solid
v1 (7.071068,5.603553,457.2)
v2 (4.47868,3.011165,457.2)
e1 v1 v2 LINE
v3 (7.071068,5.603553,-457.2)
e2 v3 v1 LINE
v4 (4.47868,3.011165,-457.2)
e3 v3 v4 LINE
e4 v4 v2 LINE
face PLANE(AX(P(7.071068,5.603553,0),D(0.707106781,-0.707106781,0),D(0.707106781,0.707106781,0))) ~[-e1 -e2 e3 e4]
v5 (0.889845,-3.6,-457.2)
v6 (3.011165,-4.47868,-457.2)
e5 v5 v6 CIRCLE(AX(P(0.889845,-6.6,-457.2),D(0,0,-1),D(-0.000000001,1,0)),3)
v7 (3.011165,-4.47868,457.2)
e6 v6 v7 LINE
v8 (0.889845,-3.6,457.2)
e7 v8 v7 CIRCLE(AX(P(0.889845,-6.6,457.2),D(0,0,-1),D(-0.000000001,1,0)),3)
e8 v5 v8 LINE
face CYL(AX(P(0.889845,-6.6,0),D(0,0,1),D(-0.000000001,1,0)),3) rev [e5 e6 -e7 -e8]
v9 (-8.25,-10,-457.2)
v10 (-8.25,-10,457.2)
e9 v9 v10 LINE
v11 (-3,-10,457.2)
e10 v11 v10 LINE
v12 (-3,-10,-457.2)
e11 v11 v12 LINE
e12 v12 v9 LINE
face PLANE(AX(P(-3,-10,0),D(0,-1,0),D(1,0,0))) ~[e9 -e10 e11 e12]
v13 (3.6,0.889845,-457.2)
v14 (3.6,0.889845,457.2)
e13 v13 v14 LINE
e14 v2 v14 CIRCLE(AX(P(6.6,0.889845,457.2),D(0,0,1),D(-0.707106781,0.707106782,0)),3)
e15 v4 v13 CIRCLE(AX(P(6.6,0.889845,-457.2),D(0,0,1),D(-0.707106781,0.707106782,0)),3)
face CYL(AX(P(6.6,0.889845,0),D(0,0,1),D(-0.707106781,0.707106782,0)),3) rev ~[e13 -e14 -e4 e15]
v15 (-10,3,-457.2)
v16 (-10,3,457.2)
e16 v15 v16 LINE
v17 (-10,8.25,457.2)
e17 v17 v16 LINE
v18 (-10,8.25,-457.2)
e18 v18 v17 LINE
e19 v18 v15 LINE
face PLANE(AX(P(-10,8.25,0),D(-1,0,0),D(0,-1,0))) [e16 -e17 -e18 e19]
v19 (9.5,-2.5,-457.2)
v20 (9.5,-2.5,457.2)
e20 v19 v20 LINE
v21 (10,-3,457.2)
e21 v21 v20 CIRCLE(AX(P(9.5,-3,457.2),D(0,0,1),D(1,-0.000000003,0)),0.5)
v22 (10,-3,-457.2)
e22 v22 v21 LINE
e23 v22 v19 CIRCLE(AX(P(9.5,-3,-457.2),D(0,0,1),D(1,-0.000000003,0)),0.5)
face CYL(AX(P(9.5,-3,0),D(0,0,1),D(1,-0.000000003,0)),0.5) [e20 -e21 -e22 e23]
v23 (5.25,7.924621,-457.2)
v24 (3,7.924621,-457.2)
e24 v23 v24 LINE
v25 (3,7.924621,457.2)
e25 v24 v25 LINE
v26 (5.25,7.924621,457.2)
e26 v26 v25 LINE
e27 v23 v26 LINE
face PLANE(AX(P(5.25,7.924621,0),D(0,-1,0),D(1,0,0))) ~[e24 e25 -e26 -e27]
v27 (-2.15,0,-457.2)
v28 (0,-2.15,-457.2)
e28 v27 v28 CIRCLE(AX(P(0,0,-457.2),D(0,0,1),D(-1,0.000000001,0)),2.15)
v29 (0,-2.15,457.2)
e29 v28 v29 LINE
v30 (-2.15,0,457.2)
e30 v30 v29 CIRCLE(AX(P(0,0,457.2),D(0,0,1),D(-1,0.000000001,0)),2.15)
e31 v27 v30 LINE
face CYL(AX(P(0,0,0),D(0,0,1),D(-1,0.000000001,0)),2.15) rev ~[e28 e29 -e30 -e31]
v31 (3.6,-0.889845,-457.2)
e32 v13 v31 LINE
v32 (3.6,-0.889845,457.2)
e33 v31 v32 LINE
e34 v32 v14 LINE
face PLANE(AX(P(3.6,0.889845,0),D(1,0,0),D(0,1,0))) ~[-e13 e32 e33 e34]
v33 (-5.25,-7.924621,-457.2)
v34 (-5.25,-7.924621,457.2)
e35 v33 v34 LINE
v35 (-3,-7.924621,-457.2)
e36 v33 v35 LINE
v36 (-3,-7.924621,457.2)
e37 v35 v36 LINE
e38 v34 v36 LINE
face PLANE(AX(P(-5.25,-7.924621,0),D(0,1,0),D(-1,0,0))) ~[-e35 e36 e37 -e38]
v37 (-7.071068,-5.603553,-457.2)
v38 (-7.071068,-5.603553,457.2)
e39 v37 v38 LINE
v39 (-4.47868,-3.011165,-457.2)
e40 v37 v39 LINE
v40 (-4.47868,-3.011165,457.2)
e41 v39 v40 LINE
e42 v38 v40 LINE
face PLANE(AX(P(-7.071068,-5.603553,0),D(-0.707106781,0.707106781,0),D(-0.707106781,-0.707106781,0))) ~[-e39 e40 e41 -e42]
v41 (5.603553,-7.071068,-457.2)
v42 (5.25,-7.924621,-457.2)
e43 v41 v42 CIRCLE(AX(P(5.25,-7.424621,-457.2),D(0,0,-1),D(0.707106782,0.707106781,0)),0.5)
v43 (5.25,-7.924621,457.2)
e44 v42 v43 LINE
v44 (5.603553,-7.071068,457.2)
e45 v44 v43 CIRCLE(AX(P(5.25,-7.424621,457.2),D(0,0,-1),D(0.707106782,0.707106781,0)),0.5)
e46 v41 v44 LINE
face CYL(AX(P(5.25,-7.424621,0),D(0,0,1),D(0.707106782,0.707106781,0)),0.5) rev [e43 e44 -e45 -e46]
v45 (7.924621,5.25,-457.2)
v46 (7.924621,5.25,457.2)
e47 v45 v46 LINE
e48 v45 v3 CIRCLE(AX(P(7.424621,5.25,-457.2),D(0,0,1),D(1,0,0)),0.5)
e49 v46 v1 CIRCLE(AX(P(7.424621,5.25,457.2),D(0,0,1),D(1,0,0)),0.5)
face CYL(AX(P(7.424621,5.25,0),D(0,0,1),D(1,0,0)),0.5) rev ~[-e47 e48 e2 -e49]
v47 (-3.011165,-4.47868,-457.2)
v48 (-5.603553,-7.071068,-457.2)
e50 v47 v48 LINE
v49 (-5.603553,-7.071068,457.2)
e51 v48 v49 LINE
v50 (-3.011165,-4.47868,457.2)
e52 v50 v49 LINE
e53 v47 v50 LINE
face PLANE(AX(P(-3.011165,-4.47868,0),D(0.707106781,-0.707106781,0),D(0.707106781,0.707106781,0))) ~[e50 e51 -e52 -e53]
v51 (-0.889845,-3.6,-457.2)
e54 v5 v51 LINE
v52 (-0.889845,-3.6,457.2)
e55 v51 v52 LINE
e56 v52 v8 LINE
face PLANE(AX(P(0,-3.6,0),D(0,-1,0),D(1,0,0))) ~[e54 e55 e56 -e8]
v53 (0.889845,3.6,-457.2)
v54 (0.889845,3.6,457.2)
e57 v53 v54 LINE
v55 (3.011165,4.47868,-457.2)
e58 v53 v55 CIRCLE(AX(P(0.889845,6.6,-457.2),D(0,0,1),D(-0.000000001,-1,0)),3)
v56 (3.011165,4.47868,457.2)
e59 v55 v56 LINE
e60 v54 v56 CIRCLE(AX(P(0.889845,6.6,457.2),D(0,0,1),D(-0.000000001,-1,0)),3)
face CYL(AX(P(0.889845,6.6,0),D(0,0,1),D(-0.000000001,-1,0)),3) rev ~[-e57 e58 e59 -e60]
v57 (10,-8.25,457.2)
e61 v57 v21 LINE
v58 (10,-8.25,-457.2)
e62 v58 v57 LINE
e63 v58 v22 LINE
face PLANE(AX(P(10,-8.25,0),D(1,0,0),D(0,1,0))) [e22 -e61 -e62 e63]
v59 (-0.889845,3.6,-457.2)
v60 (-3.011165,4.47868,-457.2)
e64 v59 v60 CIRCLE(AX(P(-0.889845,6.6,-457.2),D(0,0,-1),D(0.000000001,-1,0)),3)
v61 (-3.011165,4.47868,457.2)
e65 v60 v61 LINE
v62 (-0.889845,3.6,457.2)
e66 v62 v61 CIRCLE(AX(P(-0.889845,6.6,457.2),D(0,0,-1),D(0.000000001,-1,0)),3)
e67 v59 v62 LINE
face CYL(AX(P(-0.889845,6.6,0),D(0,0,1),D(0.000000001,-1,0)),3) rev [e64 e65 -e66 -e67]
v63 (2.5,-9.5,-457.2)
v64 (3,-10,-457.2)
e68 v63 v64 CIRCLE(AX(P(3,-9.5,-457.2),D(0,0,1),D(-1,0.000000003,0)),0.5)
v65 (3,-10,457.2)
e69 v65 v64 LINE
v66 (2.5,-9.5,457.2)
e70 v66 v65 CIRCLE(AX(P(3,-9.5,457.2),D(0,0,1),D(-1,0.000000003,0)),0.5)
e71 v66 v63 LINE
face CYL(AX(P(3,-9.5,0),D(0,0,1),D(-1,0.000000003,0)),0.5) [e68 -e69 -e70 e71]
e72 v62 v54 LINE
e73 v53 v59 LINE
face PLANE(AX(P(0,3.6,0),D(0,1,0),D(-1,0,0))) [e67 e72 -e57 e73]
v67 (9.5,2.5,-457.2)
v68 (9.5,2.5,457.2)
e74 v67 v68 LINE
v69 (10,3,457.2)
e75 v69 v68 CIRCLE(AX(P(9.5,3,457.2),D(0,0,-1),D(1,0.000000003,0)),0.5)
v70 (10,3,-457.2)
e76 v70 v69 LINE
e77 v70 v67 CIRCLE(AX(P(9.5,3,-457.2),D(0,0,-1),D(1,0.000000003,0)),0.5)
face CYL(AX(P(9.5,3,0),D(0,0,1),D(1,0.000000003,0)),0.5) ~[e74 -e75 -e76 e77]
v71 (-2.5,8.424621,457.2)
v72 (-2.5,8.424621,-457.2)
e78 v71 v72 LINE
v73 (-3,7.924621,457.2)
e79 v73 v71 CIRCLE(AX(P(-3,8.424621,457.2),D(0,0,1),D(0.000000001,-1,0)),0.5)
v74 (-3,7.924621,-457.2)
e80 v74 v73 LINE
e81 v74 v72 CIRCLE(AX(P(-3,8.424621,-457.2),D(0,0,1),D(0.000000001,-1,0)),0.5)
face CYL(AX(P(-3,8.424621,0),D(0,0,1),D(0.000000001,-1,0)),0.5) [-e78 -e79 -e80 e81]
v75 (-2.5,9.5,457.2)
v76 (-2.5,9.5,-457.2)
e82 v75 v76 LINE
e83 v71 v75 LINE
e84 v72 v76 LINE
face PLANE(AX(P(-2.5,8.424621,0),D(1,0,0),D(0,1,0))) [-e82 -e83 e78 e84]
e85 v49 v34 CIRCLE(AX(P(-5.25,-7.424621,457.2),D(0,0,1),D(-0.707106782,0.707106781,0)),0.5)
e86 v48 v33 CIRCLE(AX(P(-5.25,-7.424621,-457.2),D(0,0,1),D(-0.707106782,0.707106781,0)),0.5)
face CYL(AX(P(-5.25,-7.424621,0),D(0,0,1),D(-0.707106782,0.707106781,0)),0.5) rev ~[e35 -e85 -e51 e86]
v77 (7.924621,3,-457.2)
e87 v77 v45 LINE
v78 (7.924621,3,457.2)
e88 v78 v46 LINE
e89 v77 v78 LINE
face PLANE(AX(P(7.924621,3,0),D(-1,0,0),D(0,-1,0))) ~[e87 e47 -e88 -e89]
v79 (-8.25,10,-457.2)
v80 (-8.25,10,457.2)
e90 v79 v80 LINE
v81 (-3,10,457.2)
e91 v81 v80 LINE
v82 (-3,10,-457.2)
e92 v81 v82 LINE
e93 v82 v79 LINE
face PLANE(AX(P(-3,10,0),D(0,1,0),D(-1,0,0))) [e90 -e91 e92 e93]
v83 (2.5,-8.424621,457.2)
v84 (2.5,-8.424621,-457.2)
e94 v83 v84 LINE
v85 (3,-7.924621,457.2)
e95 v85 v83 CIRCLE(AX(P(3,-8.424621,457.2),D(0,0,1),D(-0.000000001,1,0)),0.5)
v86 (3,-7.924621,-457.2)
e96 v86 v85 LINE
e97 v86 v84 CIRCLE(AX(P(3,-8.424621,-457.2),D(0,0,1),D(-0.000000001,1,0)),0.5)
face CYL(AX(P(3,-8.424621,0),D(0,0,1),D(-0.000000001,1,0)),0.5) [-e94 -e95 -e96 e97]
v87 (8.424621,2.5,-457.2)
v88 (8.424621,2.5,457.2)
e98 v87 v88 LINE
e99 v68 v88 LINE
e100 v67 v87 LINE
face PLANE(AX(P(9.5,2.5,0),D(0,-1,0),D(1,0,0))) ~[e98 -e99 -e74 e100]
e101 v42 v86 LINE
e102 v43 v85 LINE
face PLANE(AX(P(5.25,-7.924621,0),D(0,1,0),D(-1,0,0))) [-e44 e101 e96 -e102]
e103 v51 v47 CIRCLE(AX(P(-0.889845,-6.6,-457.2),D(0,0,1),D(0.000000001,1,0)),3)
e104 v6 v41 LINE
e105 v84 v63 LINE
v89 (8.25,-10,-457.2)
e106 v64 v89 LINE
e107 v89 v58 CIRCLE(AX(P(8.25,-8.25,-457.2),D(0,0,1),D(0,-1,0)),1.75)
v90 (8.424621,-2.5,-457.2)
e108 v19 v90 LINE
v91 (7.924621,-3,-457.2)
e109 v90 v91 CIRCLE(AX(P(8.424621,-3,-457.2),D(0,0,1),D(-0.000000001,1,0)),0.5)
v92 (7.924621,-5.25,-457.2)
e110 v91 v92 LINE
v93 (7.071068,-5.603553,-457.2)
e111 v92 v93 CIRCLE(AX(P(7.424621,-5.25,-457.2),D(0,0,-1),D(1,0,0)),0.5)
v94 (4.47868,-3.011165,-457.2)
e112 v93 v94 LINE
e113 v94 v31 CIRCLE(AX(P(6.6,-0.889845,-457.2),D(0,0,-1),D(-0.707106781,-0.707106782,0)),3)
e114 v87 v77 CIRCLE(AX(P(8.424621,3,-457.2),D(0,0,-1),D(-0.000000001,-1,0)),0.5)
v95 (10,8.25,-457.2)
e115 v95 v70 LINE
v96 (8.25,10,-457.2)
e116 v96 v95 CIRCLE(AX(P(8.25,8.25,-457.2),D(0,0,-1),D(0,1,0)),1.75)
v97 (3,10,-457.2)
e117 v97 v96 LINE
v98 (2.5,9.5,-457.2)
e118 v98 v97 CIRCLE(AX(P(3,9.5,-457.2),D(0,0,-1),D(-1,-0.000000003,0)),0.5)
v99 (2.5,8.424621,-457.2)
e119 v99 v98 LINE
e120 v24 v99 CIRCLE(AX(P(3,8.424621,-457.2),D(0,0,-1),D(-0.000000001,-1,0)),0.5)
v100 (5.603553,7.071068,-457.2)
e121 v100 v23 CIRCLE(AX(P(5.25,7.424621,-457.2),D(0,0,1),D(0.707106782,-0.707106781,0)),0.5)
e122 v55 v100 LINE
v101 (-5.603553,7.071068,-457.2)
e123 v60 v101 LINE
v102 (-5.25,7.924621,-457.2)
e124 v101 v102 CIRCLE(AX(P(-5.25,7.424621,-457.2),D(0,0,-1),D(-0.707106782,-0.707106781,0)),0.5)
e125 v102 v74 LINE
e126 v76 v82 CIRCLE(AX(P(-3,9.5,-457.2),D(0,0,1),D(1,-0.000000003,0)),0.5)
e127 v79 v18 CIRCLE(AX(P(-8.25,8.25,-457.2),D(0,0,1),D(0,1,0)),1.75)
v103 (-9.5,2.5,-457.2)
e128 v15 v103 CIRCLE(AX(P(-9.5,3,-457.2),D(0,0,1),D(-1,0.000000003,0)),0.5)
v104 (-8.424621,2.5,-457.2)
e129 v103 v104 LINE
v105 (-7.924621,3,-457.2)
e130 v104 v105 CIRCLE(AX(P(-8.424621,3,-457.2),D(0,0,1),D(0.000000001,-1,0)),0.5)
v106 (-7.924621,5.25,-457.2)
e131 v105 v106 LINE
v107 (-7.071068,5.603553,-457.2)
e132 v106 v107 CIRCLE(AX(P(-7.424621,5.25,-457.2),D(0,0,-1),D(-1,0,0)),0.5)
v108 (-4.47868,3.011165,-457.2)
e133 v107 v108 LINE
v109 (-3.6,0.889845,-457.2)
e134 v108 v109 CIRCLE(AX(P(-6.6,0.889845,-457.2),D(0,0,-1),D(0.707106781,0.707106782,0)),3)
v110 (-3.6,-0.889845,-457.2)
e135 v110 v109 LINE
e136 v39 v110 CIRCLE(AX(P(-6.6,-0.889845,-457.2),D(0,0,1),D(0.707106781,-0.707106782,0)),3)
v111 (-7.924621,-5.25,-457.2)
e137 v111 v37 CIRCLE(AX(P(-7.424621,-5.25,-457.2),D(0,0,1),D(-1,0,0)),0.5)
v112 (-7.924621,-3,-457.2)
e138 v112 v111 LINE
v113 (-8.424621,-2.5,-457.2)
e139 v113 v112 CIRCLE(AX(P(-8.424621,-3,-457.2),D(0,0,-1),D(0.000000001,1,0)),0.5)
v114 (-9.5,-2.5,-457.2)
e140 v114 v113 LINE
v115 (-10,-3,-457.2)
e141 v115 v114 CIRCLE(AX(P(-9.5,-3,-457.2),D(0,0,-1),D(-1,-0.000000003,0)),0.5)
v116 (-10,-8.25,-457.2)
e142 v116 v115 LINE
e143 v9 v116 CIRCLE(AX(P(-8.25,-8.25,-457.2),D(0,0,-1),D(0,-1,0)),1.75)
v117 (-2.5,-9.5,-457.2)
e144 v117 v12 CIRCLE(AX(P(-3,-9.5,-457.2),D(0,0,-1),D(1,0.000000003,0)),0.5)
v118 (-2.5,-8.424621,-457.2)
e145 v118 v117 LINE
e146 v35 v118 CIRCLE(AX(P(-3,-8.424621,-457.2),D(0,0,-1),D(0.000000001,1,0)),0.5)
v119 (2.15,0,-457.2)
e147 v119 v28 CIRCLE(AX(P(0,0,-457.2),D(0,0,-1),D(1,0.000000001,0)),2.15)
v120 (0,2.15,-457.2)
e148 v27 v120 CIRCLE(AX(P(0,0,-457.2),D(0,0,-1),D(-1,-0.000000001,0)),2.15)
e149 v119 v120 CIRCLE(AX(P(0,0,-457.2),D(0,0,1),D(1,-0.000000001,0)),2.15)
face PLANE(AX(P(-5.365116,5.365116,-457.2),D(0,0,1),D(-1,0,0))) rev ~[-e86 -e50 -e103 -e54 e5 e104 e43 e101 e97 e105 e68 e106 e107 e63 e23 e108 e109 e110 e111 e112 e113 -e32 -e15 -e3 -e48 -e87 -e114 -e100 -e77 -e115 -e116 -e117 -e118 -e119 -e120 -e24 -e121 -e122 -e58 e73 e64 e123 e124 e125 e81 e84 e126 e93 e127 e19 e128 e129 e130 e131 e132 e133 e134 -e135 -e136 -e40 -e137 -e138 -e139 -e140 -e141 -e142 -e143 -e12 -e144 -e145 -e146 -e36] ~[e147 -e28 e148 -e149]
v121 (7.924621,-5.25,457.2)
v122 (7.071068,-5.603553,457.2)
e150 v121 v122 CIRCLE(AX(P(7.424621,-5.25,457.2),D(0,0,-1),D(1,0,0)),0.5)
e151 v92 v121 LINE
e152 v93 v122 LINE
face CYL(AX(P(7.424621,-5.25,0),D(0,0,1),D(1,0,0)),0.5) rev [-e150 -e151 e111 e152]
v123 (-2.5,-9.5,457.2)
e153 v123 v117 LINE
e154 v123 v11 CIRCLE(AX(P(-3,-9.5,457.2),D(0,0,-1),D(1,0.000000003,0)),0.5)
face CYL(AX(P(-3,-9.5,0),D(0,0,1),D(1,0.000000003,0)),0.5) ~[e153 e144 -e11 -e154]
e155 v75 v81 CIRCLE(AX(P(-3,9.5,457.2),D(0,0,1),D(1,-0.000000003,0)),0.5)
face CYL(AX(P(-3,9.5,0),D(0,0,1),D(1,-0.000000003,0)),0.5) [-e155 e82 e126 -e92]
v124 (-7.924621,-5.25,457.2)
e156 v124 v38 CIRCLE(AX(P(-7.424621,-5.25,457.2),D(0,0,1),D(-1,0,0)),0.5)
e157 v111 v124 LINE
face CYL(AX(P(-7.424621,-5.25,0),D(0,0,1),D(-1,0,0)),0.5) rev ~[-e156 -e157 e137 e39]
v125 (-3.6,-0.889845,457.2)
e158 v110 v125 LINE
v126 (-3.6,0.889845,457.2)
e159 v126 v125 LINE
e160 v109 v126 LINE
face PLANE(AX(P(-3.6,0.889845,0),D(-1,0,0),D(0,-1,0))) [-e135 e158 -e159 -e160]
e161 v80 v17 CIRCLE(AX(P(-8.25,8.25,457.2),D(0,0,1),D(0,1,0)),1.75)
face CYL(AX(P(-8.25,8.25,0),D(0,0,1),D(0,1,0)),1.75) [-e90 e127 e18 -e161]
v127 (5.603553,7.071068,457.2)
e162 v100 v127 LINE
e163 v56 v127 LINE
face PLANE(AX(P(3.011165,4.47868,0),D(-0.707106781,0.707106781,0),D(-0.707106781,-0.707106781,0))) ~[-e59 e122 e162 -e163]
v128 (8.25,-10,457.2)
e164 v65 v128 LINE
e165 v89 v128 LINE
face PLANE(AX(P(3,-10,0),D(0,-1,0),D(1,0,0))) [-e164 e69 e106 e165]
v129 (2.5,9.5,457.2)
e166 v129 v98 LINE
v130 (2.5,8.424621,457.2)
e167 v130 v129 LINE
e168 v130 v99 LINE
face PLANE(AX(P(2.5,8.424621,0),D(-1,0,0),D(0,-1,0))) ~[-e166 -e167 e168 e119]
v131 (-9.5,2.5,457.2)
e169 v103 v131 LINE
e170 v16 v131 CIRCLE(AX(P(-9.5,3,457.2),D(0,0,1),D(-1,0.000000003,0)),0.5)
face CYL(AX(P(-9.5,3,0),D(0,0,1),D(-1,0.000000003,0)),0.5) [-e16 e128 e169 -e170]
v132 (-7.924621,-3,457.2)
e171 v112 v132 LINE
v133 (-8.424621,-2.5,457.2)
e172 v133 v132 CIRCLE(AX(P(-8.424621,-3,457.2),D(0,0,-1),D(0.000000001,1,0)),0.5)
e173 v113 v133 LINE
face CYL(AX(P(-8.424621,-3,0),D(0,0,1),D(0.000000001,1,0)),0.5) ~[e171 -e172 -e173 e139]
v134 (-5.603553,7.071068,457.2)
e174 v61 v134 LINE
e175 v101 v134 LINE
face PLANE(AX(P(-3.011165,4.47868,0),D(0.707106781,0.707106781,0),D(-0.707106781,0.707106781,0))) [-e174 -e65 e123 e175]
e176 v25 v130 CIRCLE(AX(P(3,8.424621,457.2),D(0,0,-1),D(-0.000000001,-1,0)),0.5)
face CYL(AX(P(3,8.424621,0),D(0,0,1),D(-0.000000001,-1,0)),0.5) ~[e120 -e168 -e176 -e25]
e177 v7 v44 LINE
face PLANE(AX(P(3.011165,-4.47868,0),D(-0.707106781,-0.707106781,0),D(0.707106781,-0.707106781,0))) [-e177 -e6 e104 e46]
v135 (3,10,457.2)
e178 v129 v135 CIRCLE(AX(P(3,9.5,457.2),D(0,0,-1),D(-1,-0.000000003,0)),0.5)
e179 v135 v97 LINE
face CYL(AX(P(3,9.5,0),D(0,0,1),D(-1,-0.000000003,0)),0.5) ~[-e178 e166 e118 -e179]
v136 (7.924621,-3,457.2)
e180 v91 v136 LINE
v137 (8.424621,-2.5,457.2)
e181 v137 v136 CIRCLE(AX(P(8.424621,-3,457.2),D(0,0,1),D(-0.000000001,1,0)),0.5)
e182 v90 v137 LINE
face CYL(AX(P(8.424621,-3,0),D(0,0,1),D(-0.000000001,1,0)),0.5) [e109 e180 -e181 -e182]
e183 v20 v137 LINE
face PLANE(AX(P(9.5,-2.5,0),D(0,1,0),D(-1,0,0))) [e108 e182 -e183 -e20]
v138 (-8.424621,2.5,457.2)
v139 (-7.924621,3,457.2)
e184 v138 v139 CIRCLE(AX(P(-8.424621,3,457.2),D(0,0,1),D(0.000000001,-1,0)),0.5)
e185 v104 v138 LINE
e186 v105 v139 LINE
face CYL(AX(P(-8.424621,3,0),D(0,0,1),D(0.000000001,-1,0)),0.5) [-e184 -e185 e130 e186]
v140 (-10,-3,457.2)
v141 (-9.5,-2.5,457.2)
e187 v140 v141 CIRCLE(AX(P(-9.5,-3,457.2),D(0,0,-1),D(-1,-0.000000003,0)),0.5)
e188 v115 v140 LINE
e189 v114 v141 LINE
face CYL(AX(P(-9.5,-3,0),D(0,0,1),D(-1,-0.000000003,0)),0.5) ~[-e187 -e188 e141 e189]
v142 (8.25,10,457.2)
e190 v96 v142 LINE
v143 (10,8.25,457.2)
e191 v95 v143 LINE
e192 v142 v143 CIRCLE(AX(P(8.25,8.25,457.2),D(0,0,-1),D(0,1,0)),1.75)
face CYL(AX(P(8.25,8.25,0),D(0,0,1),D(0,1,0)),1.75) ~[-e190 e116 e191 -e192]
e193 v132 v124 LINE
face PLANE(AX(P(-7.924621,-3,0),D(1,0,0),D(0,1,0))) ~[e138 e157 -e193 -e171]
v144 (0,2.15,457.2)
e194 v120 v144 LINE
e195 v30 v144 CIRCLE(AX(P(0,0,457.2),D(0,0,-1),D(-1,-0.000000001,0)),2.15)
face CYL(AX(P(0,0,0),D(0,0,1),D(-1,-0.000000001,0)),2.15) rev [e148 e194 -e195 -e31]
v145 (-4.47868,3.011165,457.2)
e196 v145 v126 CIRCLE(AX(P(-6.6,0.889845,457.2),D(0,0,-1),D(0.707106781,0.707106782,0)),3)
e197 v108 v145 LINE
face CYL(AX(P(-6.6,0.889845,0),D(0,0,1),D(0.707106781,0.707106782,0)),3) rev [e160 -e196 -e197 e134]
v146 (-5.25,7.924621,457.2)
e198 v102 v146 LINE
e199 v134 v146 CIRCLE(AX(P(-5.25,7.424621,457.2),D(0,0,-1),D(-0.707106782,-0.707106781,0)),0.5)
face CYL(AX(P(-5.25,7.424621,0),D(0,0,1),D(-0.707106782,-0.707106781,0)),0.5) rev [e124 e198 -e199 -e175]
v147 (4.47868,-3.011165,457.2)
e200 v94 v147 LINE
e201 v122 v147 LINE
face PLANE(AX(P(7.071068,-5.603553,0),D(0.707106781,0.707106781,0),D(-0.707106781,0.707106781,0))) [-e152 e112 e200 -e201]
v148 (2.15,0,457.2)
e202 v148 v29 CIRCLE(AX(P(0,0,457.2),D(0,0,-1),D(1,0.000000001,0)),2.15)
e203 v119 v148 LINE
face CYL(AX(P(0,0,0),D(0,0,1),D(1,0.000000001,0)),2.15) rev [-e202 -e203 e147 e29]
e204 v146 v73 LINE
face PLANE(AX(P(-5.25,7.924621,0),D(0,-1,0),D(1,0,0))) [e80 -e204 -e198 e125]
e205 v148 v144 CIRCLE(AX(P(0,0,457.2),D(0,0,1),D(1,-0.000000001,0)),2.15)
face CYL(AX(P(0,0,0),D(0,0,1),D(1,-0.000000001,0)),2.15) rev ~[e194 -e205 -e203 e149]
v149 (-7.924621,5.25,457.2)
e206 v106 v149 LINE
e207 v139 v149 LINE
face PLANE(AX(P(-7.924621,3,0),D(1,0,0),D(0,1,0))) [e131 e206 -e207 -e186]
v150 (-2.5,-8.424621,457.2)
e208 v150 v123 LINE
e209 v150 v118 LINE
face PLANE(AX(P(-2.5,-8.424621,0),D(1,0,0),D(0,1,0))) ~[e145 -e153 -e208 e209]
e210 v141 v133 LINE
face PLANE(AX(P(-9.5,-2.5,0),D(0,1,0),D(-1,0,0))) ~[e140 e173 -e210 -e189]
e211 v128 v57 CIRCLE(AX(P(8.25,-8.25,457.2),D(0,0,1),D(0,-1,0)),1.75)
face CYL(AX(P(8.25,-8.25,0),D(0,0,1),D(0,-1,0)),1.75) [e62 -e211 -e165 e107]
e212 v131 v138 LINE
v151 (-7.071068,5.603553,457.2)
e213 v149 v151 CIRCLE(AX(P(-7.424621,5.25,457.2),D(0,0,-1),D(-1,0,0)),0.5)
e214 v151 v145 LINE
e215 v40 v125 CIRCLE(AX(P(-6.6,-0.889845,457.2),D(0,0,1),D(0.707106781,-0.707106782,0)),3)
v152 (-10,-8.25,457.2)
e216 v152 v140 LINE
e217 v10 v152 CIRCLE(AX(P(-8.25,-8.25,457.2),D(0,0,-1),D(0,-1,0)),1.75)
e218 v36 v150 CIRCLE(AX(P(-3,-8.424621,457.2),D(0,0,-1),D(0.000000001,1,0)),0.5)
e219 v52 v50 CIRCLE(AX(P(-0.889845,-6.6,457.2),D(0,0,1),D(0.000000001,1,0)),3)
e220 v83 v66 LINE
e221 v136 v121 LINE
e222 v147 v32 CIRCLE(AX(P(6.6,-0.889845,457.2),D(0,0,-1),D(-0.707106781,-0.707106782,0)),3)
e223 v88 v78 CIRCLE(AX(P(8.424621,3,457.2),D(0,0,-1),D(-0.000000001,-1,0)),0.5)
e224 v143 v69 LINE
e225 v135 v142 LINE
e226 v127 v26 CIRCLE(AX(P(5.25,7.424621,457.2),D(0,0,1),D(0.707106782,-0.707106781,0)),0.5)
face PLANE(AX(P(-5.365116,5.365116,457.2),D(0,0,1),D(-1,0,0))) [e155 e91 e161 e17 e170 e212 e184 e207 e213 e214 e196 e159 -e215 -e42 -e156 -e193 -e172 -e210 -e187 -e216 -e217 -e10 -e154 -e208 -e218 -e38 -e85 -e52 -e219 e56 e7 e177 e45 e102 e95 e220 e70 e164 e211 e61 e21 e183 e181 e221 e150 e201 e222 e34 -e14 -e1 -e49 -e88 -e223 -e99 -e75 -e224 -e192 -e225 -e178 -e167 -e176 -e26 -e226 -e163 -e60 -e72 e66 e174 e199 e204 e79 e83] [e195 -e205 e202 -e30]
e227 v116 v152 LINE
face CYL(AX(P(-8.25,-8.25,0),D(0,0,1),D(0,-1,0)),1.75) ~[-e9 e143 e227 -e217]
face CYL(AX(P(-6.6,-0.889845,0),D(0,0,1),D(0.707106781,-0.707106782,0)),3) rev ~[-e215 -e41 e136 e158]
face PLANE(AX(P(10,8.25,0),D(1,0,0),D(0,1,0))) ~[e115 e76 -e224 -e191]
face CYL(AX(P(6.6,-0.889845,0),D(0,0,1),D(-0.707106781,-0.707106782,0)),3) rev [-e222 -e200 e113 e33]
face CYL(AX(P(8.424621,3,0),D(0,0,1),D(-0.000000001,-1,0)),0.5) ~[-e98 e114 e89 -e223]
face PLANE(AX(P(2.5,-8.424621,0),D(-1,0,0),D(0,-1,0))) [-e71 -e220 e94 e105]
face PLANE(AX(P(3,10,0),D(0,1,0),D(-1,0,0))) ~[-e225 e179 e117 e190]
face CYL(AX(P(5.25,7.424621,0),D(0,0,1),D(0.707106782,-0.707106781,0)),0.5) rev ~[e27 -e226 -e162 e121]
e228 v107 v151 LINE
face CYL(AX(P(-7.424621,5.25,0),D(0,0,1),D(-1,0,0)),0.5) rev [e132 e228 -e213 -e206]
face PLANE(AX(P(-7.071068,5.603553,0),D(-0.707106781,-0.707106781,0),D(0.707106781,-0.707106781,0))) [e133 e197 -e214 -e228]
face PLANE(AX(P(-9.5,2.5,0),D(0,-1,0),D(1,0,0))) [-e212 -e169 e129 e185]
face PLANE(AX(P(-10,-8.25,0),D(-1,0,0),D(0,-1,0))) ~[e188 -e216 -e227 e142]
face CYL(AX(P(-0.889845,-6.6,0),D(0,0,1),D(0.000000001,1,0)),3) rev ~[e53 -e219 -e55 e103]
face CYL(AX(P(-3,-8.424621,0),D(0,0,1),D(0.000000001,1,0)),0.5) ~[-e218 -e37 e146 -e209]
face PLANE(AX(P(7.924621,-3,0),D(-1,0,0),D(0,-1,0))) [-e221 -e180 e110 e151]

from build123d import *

# Parameters (mm, degrees)
BOSS_EXTRUDE1_DEPTH = 457.2


with BuildPart() as part:
    # Sketch4 → Boss-Extrude1 (new body, symmetric)
    with BuildSketch(Plane.XY):
        with BuildLine():
            Line((3, -10), (8.25, -10))
            ThreePointArc((8.25, -10), (9.487436867, -9.487436867), (10, -8.25))
            Line((10, -8.25), (10, -3))
            ThreePointArc((10, -3), (9.853553391, -2.646446609), (9.5, -2.5))
            Line((9.5, -2.5), (8.424621202, -2.5))
            ThreePointArc((8.424621202, -2.5), (8.071067812, -2.646446609), (7.924621202, -3))
            Line((7.924621202, -3), (7.924621202, -5.25))
            ThreePointArc((7.924621202, -5.25), (7.615962919, -5.711939766), (7.071067812, -5.603553391))
            Line((7.071067812, -5.603553391), (4.478679656, -3.011165235))
            ThreePointArc((4.478679656, -3.011165235), (3.828361402, -2.037895189), (3.6, -0.889844892))
            Line((3.6, -0.889844892), (3.6, 0))
            Line((3.6, 0), (2.15, 0))
            ThreePointArc((2.15, 0), (1.52027958, -1.52027958), (0, -2.15))
            Line((0, -2.15), (0, -3.6))
            Line((0, -3.6), (0.889844892, -3.6))
            ThreePointArc((0.889844892, -3.6), (2.037895189, -3.828361402), (3.011165235, -4.478679656))
            Line((3.011165235, -4.478679656), (5.603553391, -7.071067812))
            ThreePointArc((5.603553391, -7.071067812), (5.711939766, -7.615962919), (5.25, -7.924621202))
            Line((5.25, -7.924621202), (3, -7.924621202))
            ThreePointArc((3, -7.924621202), (2.646446609, -8.071067812), (2.5, -8.424621202))
            Line((2.5, -8.424621202), (2.5, -9.5))
            ThreePointArc((2.5, -9.5), (2.646446609, -9.853553391), (3, -10))
        make_face()
    extrude(amount=BOSS_EXTRUDE1_DEPTH, both=True)

    # Mirror1: part across plane


with BuildPart() as part_1:
    add(part.part)
    add(part.part.mirror(Plane(origin=(0, 0, 0), x_dir=(0, 0, 1), z_dir=(1, 0, 0))))

    # Mirror2: part across plane


with BuildPart() as part_2:
    add(part_1.part)
    add(part_1.part.mirror(Plane.ZX))


solid = part_2.part
